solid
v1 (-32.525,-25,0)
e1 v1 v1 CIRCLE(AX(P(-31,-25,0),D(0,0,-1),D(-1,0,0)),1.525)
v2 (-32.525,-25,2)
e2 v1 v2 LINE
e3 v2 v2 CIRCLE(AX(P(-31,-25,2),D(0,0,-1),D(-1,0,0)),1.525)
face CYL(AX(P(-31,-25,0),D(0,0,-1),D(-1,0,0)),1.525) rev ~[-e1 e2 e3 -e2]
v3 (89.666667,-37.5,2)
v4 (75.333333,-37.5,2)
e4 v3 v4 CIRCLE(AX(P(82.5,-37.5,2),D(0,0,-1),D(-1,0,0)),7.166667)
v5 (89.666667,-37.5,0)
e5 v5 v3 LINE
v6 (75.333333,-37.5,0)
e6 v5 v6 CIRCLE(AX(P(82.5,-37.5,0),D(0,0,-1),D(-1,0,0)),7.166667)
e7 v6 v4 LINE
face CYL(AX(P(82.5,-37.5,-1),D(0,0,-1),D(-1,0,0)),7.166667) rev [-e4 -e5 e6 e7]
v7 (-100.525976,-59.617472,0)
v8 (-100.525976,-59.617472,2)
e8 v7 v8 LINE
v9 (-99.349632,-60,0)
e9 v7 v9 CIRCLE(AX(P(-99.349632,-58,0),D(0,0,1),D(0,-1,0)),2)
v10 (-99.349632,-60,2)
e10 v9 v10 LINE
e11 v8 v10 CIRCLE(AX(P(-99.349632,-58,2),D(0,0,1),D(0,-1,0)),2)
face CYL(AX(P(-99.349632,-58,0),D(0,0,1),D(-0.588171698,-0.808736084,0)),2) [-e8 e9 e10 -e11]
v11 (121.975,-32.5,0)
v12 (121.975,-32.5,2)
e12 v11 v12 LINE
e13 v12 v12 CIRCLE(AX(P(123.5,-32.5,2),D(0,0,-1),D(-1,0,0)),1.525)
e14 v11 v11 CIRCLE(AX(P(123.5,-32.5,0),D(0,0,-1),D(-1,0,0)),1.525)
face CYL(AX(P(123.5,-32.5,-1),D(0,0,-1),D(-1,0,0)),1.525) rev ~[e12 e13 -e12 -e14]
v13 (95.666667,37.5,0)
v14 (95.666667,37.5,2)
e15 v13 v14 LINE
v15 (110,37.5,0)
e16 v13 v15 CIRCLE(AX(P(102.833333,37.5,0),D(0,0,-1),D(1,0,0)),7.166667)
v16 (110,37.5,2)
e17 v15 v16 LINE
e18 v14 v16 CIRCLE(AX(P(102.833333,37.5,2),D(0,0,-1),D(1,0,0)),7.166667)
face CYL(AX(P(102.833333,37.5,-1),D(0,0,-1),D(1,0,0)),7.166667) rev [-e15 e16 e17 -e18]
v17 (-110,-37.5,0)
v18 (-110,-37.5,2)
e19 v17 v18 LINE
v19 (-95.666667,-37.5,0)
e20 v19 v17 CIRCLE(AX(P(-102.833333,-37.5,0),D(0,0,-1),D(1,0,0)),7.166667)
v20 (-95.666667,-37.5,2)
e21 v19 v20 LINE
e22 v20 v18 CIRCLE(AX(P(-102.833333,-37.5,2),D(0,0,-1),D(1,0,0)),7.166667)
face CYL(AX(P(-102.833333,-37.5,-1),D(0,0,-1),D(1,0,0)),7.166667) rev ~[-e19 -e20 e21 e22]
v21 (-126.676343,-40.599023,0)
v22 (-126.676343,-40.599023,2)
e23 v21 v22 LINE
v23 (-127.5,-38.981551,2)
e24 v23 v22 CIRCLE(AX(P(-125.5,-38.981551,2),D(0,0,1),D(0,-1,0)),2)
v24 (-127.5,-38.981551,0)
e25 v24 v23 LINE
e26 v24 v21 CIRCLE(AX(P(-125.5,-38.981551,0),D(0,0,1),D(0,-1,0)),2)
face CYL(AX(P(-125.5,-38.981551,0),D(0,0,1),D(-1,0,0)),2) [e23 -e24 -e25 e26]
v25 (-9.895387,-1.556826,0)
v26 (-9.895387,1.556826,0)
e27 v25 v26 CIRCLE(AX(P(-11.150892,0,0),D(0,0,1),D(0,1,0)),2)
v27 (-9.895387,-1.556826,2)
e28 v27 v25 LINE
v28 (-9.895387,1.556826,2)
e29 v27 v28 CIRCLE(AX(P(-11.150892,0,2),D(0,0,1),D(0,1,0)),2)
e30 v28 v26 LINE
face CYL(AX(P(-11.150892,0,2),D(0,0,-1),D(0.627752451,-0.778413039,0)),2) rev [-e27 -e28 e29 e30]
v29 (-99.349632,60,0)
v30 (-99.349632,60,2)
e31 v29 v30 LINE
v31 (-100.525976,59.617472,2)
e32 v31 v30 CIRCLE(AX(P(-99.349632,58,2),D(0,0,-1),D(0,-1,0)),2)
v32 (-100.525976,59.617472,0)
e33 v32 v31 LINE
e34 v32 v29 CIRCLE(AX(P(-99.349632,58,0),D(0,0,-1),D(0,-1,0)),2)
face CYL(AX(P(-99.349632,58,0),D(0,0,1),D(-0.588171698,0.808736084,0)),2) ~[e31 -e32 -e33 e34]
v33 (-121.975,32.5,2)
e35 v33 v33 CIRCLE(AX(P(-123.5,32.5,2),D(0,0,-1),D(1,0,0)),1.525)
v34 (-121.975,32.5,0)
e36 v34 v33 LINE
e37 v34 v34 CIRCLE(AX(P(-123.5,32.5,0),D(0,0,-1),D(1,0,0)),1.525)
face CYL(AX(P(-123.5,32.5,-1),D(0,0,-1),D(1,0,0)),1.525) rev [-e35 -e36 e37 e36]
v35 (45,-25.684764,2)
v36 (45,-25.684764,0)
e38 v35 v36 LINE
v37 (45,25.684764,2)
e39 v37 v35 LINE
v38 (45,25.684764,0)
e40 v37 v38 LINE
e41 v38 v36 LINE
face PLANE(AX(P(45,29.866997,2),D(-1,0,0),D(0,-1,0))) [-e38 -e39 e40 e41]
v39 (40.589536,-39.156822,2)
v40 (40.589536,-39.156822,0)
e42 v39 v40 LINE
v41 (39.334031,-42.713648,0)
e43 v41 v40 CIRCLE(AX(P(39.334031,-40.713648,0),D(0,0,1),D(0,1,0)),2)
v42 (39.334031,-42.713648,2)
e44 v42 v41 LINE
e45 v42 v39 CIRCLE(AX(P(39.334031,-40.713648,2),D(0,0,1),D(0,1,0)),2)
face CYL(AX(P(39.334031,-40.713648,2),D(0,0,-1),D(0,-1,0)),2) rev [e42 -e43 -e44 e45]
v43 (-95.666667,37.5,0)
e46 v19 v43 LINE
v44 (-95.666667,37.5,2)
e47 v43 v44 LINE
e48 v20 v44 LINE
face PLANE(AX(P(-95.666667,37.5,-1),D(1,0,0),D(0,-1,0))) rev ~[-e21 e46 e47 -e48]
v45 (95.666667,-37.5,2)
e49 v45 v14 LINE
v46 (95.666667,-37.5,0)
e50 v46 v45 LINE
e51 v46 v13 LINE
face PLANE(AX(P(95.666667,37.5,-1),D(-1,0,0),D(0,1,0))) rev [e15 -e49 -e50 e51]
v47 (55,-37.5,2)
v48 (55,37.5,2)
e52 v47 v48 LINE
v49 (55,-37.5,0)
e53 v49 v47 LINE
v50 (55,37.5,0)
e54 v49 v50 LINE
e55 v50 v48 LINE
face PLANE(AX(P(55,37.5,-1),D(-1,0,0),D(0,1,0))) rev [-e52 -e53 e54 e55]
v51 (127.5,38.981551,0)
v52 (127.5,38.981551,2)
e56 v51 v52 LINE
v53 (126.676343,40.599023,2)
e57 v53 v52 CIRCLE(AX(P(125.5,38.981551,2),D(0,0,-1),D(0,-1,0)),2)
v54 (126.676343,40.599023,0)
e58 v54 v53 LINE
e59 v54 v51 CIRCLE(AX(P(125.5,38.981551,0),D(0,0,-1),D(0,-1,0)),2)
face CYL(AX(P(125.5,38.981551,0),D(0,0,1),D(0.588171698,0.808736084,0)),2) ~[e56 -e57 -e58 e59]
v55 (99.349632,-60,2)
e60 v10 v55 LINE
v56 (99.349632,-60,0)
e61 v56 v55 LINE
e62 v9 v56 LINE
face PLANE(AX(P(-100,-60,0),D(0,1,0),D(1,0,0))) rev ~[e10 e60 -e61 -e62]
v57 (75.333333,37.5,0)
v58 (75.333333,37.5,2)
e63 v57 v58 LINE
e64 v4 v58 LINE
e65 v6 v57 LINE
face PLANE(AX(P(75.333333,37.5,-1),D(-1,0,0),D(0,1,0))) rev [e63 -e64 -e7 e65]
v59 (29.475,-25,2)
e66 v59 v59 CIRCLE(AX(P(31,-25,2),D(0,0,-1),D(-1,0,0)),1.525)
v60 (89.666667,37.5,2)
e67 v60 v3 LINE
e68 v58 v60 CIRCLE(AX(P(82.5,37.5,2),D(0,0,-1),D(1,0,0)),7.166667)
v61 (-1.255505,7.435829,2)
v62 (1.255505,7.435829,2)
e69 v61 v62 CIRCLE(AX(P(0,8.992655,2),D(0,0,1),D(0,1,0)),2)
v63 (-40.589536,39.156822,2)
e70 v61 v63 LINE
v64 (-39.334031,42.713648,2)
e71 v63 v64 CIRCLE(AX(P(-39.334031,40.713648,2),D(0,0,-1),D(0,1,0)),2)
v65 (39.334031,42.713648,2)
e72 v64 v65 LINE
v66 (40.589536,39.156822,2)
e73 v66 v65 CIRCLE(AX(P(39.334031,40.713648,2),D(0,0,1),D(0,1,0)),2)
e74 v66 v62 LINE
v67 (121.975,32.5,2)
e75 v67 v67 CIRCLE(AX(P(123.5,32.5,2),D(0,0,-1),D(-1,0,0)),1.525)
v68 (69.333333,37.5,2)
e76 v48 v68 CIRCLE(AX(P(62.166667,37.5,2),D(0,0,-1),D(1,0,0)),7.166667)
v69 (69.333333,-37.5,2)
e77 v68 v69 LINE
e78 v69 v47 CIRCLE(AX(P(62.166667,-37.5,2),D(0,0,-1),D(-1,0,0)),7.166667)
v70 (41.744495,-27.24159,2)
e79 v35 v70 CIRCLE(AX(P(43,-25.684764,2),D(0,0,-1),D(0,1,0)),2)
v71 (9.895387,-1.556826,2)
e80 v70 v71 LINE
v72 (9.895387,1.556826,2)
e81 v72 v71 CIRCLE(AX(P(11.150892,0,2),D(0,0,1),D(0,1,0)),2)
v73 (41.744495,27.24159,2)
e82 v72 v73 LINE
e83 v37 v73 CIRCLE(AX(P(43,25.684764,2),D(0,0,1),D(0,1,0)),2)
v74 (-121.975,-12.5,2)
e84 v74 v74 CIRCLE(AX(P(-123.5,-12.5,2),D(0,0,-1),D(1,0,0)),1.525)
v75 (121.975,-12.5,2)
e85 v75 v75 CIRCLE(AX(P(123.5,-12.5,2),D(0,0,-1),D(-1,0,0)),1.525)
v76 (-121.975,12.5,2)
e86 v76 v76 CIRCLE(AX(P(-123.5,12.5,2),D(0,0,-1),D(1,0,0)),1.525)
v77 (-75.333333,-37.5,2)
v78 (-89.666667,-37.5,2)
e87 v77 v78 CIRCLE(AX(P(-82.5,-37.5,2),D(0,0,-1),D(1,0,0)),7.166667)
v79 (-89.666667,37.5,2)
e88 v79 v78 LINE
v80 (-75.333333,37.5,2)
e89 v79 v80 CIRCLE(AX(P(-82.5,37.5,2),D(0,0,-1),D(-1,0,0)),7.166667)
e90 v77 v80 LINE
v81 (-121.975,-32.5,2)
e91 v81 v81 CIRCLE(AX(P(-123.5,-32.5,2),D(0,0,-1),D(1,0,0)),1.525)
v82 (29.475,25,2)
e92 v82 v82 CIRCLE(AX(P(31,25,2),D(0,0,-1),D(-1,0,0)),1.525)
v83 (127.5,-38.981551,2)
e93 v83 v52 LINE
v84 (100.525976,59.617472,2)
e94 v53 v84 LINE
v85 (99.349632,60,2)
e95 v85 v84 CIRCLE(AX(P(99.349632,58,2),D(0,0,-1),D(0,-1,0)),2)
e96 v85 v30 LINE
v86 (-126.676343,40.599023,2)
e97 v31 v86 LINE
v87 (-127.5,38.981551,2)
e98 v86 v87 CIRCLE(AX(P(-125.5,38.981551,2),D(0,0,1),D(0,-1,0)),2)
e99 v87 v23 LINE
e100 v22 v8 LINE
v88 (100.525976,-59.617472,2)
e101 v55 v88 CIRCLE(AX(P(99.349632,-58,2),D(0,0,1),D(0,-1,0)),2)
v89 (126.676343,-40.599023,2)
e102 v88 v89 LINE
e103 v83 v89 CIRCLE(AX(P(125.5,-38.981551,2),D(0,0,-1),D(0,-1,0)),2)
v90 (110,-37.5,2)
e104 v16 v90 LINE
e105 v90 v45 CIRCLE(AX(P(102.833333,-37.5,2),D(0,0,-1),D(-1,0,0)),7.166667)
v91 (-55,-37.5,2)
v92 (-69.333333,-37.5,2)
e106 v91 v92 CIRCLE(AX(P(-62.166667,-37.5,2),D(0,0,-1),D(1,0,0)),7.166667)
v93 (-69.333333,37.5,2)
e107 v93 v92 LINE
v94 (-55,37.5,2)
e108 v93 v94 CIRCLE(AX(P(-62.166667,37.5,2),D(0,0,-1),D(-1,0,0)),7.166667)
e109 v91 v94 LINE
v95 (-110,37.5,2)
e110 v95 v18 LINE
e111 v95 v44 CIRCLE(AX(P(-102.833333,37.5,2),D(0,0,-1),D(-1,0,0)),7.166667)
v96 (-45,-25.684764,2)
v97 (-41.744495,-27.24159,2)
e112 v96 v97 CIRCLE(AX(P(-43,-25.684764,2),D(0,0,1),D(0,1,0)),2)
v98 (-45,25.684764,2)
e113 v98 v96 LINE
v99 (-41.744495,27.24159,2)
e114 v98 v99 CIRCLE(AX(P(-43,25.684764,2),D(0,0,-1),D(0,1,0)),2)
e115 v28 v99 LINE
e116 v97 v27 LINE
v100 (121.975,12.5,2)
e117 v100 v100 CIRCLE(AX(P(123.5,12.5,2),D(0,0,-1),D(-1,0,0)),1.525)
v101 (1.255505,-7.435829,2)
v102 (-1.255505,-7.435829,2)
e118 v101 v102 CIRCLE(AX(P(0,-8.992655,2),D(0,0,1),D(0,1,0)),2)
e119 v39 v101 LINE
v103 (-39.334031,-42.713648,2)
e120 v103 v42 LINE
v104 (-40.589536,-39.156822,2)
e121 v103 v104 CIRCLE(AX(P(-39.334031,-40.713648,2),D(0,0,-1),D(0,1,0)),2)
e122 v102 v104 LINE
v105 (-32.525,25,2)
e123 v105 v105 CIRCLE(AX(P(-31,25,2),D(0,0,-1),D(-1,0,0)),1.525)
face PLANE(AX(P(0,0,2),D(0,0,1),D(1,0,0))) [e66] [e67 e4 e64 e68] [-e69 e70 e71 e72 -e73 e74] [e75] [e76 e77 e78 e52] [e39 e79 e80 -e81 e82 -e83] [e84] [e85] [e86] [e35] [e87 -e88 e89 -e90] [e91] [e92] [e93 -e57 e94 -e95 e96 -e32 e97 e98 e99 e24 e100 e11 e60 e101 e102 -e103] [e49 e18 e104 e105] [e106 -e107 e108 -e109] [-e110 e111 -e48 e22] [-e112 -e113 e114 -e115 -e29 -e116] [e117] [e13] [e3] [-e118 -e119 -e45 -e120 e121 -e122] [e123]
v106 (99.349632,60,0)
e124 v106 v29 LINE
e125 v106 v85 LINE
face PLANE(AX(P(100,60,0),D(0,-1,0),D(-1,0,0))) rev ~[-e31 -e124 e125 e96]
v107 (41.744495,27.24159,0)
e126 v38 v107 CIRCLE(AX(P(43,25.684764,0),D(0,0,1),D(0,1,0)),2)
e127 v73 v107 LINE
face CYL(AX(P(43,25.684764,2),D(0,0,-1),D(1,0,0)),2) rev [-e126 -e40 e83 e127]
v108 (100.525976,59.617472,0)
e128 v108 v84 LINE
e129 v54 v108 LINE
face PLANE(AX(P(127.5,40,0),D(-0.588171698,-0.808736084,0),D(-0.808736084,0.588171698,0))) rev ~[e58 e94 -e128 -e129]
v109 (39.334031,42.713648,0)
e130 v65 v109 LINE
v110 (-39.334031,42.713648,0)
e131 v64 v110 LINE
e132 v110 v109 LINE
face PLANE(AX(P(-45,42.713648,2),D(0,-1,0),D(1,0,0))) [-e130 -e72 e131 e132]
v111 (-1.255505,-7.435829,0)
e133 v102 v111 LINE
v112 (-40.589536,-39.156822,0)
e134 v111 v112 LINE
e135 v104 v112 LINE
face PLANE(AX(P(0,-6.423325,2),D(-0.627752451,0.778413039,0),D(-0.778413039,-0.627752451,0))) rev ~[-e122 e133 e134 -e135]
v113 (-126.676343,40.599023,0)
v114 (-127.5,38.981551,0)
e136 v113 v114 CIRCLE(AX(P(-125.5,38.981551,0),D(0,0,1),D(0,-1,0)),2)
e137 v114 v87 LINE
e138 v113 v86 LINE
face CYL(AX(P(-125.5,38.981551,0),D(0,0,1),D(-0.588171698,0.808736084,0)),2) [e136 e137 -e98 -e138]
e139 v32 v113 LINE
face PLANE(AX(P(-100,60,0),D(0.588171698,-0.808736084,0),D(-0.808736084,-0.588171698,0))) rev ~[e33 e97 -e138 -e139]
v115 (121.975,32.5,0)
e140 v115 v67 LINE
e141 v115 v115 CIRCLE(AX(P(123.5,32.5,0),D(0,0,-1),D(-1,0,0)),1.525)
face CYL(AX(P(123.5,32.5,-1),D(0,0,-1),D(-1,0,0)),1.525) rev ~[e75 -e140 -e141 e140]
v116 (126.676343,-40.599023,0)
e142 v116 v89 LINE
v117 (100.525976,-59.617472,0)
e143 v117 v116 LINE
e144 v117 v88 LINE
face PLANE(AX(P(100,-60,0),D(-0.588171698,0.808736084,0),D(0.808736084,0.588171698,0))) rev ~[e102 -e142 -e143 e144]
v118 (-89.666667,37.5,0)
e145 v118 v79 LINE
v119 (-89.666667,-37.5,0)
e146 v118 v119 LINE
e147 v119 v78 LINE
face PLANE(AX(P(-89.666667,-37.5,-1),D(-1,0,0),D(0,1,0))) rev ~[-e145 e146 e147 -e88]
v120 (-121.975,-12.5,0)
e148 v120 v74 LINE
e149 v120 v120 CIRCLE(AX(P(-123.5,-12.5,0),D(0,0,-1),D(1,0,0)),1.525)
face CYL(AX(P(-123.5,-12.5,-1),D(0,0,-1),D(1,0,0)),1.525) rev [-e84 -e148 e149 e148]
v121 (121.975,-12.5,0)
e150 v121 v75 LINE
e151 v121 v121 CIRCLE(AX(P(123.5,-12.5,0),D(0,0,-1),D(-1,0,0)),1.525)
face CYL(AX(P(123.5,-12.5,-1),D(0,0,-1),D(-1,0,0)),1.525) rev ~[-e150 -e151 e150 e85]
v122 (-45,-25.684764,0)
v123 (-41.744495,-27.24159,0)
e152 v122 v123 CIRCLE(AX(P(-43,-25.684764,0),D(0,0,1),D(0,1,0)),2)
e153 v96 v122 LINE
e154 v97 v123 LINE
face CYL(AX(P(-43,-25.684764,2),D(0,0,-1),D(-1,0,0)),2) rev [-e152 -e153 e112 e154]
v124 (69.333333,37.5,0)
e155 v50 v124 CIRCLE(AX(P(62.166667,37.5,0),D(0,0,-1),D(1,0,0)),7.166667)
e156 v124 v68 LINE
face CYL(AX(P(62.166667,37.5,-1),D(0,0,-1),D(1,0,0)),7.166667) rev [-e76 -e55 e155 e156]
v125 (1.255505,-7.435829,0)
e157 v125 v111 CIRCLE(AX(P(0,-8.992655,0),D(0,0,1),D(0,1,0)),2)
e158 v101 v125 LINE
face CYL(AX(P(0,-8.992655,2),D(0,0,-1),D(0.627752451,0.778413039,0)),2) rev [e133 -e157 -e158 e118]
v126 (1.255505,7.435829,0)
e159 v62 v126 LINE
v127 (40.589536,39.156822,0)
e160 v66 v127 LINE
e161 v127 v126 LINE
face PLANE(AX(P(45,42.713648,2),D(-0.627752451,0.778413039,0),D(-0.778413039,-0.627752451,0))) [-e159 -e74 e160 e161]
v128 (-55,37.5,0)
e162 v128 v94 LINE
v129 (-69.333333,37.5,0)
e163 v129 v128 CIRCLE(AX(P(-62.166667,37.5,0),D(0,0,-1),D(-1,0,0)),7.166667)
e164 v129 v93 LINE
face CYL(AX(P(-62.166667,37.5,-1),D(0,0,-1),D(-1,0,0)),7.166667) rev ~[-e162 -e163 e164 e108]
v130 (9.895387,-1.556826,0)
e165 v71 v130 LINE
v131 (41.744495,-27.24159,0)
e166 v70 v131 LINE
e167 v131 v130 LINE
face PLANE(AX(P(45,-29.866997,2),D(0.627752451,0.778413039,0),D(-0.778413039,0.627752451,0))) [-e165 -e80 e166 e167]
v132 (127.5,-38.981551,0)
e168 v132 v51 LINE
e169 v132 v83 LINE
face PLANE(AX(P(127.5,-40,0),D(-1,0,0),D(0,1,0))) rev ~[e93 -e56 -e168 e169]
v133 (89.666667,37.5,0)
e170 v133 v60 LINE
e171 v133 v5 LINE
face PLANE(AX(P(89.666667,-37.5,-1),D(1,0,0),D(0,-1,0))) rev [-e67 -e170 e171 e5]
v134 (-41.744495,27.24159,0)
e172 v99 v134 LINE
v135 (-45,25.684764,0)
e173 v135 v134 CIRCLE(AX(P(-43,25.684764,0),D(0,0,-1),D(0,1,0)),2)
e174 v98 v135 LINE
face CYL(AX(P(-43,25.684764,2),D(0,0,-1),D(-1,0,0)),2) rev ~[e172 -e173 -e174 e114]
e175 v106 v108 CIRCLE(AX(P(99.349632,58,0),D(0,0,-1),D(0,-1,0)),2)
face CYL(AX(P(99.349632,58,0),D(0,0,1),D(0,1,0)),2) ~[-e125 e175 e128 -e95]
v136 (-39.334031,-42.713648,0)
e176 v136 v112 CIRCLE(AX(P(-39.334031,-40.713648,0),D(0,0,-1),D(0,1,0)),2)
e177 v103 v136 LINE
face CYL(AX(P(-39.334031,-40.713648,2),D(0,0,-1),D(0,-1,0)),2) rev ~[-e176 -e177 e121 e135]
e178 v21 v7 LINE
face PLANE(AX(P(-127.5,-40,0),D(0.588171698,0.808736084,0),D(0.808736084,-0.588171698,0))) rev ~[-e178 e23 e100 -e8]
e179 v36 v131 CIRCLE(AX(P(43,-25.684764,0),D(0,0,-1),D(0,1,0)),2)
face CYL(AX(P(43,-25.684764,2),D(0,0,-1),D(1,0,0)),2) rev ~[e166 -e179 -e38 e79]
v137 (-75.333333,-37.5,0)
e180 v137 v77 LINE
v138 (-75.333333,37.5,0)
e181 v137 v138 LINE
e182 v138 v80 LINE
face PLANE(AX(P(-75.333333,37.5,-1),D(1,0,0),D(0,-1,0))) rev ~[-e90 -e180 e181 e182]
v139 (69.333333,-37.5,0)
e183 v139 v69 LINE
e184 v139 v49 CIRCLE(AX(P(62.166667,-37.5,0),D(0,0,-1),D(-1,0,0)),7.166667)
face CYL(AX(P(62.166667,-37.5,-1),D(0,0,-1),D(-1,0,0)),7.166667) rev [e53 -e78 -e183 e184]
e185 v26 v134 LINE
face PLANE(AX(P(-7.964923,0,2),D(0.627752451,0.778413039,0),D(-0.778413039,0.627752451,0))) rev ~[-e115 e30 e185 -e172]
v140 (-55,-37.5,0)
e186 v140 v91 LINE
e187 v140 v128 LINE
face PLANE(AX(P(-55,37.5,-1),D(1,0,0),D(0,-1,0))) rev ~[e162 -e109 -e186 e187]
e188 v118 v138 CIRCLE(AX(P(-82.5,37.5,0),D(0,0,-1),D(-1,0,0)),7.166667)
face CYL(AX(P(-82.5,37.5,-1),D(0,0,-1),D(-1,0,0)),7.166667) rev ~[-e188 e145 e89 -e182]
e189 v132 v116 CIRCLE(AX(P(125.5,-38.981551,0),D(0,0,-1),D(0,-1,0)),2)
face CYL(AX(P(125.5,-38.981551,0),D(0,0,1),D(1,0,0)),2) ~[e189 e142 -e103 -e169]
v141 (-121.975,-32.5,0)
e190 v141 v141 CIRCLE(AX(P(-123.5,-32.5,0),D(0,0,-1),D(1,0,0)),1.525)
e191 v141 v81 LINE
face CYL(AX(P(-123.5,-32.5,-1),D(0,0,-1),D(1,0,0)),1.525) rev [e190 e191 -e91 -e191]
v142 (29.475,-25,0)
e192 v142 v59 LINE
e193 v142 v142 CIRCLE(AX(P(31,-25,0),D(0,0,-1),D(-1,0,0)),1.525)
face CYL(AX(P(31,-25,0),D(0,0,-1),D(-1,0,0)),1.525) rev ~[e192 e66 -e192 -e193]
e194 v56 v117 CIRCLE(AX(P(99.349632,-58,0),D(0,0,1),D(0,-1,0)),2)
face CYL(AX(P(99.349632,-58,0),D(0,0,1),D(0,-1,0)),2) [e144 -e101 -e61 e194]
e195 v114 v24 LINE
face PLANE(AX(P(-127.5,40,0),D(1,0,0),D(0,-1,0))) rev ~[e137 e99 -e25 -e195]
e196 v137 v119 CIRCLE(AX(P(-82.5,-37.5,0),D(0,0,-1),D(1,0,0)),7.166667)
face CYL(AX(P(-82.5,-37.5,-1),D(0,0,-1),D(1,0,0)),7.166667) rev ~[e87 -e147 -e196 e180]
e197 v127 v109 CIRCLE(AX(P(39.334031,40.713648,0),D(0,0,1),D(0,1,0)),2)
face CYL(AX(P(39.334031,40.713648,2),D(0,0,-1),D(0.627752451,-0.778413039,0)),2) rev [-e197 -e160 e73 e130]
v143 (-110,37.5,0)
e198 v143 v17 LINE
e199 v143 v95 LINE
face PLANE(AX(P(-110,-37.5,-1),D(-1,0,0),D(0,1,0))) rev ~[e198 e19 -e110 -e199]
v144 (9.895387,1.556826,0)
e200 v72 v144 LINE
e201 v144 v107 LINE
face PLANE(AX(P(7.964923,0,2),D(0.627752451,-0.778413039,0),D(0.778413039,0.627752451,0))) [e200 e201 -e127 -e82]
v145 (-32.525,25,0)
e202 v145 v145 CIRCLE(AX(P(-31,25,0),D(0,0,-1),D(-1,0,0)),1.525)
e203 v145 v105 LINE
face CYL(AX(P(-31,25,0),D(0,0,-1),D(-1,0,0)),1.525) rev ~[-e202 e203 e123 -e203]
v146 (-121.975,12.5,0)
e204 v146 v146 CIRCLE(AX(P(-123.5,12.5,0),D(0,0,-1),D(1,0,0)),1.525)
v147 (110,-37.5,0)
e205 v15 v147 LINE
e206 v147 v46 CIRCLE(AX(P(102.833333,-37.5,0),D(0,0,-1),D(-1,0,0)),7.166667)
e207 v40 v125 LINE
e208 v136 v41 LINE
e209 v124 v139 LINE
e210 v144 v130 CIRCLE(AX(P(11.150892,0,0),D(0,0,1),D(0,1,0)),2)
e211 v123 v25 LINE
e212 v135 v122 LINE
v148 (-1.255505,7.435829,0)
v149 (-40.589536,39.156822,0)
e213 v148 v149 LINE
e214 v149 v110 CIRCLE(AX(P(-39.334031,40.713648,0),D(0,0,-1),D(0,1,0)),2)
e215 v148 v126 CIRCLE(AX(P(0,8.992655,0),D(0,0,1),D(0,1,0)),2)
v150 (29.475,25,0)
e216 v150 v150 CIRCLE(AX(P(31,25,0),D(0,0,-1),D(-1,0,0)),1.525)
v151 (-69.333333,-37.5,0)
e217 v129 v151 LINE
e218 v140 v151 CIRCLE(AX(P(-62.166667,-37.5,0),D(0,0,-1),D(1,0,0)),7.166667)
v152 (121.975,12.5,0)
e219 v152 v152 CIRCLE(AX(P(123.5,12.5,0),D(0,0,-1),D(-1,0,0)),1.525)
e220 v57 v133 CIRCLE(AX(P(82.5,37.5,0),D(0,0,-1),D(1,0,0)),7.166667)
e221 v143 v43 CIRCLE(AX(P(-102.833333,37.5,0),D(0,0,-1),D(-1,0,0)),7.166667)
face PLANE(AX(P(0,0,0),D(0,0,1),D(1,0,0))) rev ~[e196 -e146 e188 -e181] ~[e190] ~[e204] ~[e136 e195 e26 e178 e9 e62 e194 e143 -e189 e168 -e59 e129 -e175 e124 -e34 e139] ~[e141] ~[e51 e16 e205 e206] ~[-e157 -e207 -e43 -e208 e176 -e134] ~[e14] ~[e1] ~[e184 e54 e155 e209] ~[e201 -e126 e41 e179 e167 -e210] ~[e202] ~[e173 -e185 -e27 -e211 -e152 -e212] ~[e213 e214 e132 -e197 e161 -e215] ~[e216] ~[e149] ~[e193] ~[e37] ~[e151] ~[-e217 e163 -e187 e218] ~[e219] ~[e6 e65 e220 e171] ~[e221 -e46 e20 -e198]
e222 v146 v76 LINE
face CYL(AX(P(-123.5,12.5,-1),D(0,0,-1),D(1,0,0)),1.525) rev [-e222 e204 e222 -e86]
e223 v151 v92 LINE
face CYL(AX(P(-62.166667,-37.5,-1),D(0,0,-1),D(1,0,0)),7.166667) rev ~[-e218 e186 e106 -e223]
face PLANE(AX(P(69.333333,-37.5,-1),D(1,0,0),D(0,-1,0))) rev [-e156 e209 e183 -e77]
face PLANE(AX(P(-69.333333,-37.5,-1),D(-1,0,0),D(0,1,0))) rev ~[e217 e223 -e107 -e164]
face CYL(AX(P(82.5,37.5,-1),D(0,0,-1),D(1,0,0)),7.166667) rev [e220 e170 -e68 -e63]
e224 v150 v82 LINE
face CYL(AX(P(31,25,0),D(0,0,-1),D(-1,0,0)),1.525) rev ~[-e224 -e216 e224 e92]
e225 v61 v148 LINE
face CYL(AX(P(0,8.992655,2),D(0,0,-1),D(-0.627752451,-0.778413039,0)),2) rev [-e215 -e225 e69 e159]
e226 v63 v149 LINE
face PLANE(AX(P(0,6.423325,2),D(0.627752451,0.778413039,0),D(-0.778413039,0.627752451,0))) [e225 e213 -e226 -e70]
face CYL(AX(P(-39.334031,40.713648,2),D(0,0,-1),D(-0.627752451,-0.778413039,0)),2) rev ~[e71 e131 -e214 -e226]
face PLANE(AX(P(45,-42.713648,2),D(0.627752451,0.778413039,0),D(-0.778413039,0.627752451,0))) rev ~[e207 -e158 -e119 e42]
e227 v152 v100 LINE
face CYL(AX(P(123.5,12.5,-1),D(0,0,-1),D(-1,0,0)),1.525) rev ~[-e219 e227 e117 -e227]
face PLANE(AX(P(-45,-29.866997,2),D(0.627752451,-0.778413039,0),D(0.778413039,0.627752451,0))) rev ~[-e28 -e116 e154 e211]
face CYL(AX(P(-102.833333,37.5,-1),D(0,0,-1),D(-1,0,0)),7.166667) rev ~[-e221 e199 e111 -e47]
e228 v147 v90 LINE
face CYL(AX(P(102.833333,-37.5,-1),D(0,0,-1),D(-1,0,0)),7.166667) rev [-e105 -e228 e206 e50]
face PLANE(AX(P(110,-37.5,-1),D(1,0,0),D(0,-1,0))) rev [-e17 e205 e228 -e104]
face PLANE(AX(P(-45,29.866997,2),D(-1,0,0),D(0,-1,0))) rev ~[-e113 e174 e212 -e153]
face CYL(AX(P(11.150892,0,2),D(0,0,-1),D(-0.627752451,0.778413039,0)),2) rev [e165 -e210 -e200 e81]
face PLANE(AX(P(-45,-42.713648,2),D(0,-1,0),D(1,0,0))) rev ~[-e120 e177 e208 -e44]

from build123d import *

# Parameters (mm, degrees)
EXTRUDE_1_DEPTH          = 2
SKETCH_2_R               = 1.525
CUT_EXTRUDE_1_DEPTH      = 1
CUT_EXTRUDE_1_DEPTH_BACK = 3
CUT_EXTRUDE_START        = -3
SKETCH_3_R               = 1.525
CUT_EXTRUDE_2_DEPTH      = 4
CUT_EXTRUDE_3_DEPTH      = 1
CUT_EXTRUDE_3_DEPTH_BACK = 3
FILLET_1_R               = 2
CUT_EXTRUDE_4_DEPTH      = 4
FILLET_2_R               = 2


with BuildPart() as part:
    # 草图1 → 凸台-拉伸1 (new body)
    with BuildSketch(Plane.XY):
        Polygon((-100, 60), (-127.5, 40), (-127.5, -40), (-100, -60), (100, -60), (127.5, -40), (127.5, 40), (100, 60), align=None)
    extrude(amount=EXTRUDE_1_DEPTH)

    # 草图2 → 切除-拉伸1 (cut, two sides)
    with BuildSketch(Plane(origin=(0, 0, 0), x_dir=(-1, 0, 0), z_dir=(0, 0, -1))) as cut_extrude_1_sk:
        with Locations((31, -25)):
            Circle(SKETCH_2_R)
        with Locations((-31, -25)):
            Circle(SKETCH_2_R)
        with Locations((-31, 25)):
            Circle(SKETCH_2_R)
        with Locations((31, 25)):
            Circle(SKETCH_2_R)
    extrude(amount=CUT_EXTRUDE_1_DEPTH, mode=Mode.SUBTRACT)
    extrude(cut_extrude_1_sk.sketch, amount=-CUT_EXTRUDE_1_DEPTH_BACK, mode=Mode.SUBTRACT)

    # 草图3 → 切除-拉伸2 (cut)
    with BuildSketch(Plane.XY.offset(2).offset(CUT_EXTRUDE_START)):
        with Locations((-123.5, -32.5)):
            Circle(SKETCH_3_R)
        with Locations((-123.5, -12.5)):
            Circle(SKETCH_3_R)
        with Locations((-123.5, 12.5)):
            Circle(SKETCH_3_R)
        with Locations((-123.5, 32.5)):
            Circle(SKETCH_3_R)
    cut_extrude_2 = extrude(amount=CUT_EXTRUDE_2_DEPTH, mode=Mode.SUBTRACT)

    # 镜向1: 切除-拉伸2 across plane
    add(cut_extrude_2.mirror(Plane(origin=(0, 0, 0), x_dir=(0, 0, 1), z_dir=(1, 0, 0))), mode=Mode.SUBTRACT)

    # 草图4 → 切除-拉伸3 (cut, two sides)
    with BuildSketch(Plane.XY.offset(2)) as cut_extrude_3_sk:
        Polygon((-45, 42.713647662), (45, 42.713647662), (0, 6.423325081), align=None)
        Polygon((-45, 29.866997499), (-45, -29.866997499), (-7.964923101, 0), align=None)
        Polygon((-45, -42.713647662), (45, -42.713647662), (0, -6.423325081), align=None)
        Polygon((45, -29.866997499), (7.964923101, 0), (45, 29.866997499), align=None)
    extrude(amount=CUT_EXTRUDE_3_DEPTH, mode=Mode.SUBTRACT)
    extrude(cut_extrude_3_sk.sketch, amount=-CUT_EXTRUDE_3_DEPTH_BACK, mode=Mode.SUBTRACT)

    # 圆角1
    fillet_1_edges = [part.edges().sort_by_distance(p)[0] for p in [
        (-45, 29.866997499, 1),
        (-7.964923101, 0, 1),
        (-45, -29.866997499, 1),
        (45, 29.866997499, 1),
        (45, -29.866997499, 1),
        (7.964923101, 0, 1),
        (0, 6.423325081, 1),
        (-45, 42.713647662, 1),
        (45, 42.713647662, 1),
        (-45, -42.713647662, 1),
        (0, -6.423325081, 1),
        (45, -42.713647662, 1),
    ]]
    fillet(fillet_1_edges, radius=FILLET_1_R)

    # 草图5 → 切除-拉伸4 (cut)
    with BuildSketch(Plane.XY.offset(2).offset(CUT_EXTRUDE_START)):
        with BuildLine():
            Line((-110, -37.5), (-110, 37.5))
            ThreePointArc((-110, 37.5), (-102.833333333, 44.666666667), (-95.666666667, 37.5))
            Line((-95.666666667, 37.5), (-95.666666667, -37.5))
            ThreePointArc((-95.666666667, -37.5), (-102.833333333, -44.666666667), (-110, -37.5))
        make_face()
        with BuildLine():
            Line((-75.333333333, 37.5), (-75.333333333, -37.5))
            ThreePointArc((-75.333333333, -37.5), (-82.5, -44.666666667), (-89.666666667, -37.5))
            Line((-89.666666667, -37.5), (-89.666666667, 37.5))
            ThreePointArc((-89.666666667, 37.5), (-82.5, 44.666666667), (-75.333333333, 37.5))
        make_face()
        with BuildLine():
            Line((-55, 37.5), (-55, -37.5))
            ThreePointArc((-55, -37.5), (-62.166666667, -44.666666667), (-69.333333333, -37.5))
            Line((-69.333333333, -37.5), (-69.333333333, 37.5))
            ThreePointArc((-69.333333333, 37.5), (-62.166666667, 44.666666667), (-55, 37.5))
        make_face()
    cut_extrude_4 = extrude(amount=CUT_EXTRUDE_4_DEPTH, mode=Mode.SUBTRACT)

    # 镜向2: 切除-拉伸4 across plane
    add(cut_extrude_4.mirror(Plane(origin=(0, 0, 0), x_dir=(0, 0, 1), z_dir=(1, 0, 0))), mode=Mode.SUBTRACT)

    # 圆角2
    fillet_2_edges = [part.edges().sort_by_distance(p)[0] for p in [
        (127.5, 40, 1),
        (127.5, -40, 1),
        (100, -60, 1),
        (-100, -60, 1),
        (-127.5, -40, 1),
        (-127.5, 40, 1),
        (-100, 60, 1),
        (100, 60, 1),
    ]]
    fillet(fillet_2_edges, radius=FILLET_2_R)


solid = part.part
